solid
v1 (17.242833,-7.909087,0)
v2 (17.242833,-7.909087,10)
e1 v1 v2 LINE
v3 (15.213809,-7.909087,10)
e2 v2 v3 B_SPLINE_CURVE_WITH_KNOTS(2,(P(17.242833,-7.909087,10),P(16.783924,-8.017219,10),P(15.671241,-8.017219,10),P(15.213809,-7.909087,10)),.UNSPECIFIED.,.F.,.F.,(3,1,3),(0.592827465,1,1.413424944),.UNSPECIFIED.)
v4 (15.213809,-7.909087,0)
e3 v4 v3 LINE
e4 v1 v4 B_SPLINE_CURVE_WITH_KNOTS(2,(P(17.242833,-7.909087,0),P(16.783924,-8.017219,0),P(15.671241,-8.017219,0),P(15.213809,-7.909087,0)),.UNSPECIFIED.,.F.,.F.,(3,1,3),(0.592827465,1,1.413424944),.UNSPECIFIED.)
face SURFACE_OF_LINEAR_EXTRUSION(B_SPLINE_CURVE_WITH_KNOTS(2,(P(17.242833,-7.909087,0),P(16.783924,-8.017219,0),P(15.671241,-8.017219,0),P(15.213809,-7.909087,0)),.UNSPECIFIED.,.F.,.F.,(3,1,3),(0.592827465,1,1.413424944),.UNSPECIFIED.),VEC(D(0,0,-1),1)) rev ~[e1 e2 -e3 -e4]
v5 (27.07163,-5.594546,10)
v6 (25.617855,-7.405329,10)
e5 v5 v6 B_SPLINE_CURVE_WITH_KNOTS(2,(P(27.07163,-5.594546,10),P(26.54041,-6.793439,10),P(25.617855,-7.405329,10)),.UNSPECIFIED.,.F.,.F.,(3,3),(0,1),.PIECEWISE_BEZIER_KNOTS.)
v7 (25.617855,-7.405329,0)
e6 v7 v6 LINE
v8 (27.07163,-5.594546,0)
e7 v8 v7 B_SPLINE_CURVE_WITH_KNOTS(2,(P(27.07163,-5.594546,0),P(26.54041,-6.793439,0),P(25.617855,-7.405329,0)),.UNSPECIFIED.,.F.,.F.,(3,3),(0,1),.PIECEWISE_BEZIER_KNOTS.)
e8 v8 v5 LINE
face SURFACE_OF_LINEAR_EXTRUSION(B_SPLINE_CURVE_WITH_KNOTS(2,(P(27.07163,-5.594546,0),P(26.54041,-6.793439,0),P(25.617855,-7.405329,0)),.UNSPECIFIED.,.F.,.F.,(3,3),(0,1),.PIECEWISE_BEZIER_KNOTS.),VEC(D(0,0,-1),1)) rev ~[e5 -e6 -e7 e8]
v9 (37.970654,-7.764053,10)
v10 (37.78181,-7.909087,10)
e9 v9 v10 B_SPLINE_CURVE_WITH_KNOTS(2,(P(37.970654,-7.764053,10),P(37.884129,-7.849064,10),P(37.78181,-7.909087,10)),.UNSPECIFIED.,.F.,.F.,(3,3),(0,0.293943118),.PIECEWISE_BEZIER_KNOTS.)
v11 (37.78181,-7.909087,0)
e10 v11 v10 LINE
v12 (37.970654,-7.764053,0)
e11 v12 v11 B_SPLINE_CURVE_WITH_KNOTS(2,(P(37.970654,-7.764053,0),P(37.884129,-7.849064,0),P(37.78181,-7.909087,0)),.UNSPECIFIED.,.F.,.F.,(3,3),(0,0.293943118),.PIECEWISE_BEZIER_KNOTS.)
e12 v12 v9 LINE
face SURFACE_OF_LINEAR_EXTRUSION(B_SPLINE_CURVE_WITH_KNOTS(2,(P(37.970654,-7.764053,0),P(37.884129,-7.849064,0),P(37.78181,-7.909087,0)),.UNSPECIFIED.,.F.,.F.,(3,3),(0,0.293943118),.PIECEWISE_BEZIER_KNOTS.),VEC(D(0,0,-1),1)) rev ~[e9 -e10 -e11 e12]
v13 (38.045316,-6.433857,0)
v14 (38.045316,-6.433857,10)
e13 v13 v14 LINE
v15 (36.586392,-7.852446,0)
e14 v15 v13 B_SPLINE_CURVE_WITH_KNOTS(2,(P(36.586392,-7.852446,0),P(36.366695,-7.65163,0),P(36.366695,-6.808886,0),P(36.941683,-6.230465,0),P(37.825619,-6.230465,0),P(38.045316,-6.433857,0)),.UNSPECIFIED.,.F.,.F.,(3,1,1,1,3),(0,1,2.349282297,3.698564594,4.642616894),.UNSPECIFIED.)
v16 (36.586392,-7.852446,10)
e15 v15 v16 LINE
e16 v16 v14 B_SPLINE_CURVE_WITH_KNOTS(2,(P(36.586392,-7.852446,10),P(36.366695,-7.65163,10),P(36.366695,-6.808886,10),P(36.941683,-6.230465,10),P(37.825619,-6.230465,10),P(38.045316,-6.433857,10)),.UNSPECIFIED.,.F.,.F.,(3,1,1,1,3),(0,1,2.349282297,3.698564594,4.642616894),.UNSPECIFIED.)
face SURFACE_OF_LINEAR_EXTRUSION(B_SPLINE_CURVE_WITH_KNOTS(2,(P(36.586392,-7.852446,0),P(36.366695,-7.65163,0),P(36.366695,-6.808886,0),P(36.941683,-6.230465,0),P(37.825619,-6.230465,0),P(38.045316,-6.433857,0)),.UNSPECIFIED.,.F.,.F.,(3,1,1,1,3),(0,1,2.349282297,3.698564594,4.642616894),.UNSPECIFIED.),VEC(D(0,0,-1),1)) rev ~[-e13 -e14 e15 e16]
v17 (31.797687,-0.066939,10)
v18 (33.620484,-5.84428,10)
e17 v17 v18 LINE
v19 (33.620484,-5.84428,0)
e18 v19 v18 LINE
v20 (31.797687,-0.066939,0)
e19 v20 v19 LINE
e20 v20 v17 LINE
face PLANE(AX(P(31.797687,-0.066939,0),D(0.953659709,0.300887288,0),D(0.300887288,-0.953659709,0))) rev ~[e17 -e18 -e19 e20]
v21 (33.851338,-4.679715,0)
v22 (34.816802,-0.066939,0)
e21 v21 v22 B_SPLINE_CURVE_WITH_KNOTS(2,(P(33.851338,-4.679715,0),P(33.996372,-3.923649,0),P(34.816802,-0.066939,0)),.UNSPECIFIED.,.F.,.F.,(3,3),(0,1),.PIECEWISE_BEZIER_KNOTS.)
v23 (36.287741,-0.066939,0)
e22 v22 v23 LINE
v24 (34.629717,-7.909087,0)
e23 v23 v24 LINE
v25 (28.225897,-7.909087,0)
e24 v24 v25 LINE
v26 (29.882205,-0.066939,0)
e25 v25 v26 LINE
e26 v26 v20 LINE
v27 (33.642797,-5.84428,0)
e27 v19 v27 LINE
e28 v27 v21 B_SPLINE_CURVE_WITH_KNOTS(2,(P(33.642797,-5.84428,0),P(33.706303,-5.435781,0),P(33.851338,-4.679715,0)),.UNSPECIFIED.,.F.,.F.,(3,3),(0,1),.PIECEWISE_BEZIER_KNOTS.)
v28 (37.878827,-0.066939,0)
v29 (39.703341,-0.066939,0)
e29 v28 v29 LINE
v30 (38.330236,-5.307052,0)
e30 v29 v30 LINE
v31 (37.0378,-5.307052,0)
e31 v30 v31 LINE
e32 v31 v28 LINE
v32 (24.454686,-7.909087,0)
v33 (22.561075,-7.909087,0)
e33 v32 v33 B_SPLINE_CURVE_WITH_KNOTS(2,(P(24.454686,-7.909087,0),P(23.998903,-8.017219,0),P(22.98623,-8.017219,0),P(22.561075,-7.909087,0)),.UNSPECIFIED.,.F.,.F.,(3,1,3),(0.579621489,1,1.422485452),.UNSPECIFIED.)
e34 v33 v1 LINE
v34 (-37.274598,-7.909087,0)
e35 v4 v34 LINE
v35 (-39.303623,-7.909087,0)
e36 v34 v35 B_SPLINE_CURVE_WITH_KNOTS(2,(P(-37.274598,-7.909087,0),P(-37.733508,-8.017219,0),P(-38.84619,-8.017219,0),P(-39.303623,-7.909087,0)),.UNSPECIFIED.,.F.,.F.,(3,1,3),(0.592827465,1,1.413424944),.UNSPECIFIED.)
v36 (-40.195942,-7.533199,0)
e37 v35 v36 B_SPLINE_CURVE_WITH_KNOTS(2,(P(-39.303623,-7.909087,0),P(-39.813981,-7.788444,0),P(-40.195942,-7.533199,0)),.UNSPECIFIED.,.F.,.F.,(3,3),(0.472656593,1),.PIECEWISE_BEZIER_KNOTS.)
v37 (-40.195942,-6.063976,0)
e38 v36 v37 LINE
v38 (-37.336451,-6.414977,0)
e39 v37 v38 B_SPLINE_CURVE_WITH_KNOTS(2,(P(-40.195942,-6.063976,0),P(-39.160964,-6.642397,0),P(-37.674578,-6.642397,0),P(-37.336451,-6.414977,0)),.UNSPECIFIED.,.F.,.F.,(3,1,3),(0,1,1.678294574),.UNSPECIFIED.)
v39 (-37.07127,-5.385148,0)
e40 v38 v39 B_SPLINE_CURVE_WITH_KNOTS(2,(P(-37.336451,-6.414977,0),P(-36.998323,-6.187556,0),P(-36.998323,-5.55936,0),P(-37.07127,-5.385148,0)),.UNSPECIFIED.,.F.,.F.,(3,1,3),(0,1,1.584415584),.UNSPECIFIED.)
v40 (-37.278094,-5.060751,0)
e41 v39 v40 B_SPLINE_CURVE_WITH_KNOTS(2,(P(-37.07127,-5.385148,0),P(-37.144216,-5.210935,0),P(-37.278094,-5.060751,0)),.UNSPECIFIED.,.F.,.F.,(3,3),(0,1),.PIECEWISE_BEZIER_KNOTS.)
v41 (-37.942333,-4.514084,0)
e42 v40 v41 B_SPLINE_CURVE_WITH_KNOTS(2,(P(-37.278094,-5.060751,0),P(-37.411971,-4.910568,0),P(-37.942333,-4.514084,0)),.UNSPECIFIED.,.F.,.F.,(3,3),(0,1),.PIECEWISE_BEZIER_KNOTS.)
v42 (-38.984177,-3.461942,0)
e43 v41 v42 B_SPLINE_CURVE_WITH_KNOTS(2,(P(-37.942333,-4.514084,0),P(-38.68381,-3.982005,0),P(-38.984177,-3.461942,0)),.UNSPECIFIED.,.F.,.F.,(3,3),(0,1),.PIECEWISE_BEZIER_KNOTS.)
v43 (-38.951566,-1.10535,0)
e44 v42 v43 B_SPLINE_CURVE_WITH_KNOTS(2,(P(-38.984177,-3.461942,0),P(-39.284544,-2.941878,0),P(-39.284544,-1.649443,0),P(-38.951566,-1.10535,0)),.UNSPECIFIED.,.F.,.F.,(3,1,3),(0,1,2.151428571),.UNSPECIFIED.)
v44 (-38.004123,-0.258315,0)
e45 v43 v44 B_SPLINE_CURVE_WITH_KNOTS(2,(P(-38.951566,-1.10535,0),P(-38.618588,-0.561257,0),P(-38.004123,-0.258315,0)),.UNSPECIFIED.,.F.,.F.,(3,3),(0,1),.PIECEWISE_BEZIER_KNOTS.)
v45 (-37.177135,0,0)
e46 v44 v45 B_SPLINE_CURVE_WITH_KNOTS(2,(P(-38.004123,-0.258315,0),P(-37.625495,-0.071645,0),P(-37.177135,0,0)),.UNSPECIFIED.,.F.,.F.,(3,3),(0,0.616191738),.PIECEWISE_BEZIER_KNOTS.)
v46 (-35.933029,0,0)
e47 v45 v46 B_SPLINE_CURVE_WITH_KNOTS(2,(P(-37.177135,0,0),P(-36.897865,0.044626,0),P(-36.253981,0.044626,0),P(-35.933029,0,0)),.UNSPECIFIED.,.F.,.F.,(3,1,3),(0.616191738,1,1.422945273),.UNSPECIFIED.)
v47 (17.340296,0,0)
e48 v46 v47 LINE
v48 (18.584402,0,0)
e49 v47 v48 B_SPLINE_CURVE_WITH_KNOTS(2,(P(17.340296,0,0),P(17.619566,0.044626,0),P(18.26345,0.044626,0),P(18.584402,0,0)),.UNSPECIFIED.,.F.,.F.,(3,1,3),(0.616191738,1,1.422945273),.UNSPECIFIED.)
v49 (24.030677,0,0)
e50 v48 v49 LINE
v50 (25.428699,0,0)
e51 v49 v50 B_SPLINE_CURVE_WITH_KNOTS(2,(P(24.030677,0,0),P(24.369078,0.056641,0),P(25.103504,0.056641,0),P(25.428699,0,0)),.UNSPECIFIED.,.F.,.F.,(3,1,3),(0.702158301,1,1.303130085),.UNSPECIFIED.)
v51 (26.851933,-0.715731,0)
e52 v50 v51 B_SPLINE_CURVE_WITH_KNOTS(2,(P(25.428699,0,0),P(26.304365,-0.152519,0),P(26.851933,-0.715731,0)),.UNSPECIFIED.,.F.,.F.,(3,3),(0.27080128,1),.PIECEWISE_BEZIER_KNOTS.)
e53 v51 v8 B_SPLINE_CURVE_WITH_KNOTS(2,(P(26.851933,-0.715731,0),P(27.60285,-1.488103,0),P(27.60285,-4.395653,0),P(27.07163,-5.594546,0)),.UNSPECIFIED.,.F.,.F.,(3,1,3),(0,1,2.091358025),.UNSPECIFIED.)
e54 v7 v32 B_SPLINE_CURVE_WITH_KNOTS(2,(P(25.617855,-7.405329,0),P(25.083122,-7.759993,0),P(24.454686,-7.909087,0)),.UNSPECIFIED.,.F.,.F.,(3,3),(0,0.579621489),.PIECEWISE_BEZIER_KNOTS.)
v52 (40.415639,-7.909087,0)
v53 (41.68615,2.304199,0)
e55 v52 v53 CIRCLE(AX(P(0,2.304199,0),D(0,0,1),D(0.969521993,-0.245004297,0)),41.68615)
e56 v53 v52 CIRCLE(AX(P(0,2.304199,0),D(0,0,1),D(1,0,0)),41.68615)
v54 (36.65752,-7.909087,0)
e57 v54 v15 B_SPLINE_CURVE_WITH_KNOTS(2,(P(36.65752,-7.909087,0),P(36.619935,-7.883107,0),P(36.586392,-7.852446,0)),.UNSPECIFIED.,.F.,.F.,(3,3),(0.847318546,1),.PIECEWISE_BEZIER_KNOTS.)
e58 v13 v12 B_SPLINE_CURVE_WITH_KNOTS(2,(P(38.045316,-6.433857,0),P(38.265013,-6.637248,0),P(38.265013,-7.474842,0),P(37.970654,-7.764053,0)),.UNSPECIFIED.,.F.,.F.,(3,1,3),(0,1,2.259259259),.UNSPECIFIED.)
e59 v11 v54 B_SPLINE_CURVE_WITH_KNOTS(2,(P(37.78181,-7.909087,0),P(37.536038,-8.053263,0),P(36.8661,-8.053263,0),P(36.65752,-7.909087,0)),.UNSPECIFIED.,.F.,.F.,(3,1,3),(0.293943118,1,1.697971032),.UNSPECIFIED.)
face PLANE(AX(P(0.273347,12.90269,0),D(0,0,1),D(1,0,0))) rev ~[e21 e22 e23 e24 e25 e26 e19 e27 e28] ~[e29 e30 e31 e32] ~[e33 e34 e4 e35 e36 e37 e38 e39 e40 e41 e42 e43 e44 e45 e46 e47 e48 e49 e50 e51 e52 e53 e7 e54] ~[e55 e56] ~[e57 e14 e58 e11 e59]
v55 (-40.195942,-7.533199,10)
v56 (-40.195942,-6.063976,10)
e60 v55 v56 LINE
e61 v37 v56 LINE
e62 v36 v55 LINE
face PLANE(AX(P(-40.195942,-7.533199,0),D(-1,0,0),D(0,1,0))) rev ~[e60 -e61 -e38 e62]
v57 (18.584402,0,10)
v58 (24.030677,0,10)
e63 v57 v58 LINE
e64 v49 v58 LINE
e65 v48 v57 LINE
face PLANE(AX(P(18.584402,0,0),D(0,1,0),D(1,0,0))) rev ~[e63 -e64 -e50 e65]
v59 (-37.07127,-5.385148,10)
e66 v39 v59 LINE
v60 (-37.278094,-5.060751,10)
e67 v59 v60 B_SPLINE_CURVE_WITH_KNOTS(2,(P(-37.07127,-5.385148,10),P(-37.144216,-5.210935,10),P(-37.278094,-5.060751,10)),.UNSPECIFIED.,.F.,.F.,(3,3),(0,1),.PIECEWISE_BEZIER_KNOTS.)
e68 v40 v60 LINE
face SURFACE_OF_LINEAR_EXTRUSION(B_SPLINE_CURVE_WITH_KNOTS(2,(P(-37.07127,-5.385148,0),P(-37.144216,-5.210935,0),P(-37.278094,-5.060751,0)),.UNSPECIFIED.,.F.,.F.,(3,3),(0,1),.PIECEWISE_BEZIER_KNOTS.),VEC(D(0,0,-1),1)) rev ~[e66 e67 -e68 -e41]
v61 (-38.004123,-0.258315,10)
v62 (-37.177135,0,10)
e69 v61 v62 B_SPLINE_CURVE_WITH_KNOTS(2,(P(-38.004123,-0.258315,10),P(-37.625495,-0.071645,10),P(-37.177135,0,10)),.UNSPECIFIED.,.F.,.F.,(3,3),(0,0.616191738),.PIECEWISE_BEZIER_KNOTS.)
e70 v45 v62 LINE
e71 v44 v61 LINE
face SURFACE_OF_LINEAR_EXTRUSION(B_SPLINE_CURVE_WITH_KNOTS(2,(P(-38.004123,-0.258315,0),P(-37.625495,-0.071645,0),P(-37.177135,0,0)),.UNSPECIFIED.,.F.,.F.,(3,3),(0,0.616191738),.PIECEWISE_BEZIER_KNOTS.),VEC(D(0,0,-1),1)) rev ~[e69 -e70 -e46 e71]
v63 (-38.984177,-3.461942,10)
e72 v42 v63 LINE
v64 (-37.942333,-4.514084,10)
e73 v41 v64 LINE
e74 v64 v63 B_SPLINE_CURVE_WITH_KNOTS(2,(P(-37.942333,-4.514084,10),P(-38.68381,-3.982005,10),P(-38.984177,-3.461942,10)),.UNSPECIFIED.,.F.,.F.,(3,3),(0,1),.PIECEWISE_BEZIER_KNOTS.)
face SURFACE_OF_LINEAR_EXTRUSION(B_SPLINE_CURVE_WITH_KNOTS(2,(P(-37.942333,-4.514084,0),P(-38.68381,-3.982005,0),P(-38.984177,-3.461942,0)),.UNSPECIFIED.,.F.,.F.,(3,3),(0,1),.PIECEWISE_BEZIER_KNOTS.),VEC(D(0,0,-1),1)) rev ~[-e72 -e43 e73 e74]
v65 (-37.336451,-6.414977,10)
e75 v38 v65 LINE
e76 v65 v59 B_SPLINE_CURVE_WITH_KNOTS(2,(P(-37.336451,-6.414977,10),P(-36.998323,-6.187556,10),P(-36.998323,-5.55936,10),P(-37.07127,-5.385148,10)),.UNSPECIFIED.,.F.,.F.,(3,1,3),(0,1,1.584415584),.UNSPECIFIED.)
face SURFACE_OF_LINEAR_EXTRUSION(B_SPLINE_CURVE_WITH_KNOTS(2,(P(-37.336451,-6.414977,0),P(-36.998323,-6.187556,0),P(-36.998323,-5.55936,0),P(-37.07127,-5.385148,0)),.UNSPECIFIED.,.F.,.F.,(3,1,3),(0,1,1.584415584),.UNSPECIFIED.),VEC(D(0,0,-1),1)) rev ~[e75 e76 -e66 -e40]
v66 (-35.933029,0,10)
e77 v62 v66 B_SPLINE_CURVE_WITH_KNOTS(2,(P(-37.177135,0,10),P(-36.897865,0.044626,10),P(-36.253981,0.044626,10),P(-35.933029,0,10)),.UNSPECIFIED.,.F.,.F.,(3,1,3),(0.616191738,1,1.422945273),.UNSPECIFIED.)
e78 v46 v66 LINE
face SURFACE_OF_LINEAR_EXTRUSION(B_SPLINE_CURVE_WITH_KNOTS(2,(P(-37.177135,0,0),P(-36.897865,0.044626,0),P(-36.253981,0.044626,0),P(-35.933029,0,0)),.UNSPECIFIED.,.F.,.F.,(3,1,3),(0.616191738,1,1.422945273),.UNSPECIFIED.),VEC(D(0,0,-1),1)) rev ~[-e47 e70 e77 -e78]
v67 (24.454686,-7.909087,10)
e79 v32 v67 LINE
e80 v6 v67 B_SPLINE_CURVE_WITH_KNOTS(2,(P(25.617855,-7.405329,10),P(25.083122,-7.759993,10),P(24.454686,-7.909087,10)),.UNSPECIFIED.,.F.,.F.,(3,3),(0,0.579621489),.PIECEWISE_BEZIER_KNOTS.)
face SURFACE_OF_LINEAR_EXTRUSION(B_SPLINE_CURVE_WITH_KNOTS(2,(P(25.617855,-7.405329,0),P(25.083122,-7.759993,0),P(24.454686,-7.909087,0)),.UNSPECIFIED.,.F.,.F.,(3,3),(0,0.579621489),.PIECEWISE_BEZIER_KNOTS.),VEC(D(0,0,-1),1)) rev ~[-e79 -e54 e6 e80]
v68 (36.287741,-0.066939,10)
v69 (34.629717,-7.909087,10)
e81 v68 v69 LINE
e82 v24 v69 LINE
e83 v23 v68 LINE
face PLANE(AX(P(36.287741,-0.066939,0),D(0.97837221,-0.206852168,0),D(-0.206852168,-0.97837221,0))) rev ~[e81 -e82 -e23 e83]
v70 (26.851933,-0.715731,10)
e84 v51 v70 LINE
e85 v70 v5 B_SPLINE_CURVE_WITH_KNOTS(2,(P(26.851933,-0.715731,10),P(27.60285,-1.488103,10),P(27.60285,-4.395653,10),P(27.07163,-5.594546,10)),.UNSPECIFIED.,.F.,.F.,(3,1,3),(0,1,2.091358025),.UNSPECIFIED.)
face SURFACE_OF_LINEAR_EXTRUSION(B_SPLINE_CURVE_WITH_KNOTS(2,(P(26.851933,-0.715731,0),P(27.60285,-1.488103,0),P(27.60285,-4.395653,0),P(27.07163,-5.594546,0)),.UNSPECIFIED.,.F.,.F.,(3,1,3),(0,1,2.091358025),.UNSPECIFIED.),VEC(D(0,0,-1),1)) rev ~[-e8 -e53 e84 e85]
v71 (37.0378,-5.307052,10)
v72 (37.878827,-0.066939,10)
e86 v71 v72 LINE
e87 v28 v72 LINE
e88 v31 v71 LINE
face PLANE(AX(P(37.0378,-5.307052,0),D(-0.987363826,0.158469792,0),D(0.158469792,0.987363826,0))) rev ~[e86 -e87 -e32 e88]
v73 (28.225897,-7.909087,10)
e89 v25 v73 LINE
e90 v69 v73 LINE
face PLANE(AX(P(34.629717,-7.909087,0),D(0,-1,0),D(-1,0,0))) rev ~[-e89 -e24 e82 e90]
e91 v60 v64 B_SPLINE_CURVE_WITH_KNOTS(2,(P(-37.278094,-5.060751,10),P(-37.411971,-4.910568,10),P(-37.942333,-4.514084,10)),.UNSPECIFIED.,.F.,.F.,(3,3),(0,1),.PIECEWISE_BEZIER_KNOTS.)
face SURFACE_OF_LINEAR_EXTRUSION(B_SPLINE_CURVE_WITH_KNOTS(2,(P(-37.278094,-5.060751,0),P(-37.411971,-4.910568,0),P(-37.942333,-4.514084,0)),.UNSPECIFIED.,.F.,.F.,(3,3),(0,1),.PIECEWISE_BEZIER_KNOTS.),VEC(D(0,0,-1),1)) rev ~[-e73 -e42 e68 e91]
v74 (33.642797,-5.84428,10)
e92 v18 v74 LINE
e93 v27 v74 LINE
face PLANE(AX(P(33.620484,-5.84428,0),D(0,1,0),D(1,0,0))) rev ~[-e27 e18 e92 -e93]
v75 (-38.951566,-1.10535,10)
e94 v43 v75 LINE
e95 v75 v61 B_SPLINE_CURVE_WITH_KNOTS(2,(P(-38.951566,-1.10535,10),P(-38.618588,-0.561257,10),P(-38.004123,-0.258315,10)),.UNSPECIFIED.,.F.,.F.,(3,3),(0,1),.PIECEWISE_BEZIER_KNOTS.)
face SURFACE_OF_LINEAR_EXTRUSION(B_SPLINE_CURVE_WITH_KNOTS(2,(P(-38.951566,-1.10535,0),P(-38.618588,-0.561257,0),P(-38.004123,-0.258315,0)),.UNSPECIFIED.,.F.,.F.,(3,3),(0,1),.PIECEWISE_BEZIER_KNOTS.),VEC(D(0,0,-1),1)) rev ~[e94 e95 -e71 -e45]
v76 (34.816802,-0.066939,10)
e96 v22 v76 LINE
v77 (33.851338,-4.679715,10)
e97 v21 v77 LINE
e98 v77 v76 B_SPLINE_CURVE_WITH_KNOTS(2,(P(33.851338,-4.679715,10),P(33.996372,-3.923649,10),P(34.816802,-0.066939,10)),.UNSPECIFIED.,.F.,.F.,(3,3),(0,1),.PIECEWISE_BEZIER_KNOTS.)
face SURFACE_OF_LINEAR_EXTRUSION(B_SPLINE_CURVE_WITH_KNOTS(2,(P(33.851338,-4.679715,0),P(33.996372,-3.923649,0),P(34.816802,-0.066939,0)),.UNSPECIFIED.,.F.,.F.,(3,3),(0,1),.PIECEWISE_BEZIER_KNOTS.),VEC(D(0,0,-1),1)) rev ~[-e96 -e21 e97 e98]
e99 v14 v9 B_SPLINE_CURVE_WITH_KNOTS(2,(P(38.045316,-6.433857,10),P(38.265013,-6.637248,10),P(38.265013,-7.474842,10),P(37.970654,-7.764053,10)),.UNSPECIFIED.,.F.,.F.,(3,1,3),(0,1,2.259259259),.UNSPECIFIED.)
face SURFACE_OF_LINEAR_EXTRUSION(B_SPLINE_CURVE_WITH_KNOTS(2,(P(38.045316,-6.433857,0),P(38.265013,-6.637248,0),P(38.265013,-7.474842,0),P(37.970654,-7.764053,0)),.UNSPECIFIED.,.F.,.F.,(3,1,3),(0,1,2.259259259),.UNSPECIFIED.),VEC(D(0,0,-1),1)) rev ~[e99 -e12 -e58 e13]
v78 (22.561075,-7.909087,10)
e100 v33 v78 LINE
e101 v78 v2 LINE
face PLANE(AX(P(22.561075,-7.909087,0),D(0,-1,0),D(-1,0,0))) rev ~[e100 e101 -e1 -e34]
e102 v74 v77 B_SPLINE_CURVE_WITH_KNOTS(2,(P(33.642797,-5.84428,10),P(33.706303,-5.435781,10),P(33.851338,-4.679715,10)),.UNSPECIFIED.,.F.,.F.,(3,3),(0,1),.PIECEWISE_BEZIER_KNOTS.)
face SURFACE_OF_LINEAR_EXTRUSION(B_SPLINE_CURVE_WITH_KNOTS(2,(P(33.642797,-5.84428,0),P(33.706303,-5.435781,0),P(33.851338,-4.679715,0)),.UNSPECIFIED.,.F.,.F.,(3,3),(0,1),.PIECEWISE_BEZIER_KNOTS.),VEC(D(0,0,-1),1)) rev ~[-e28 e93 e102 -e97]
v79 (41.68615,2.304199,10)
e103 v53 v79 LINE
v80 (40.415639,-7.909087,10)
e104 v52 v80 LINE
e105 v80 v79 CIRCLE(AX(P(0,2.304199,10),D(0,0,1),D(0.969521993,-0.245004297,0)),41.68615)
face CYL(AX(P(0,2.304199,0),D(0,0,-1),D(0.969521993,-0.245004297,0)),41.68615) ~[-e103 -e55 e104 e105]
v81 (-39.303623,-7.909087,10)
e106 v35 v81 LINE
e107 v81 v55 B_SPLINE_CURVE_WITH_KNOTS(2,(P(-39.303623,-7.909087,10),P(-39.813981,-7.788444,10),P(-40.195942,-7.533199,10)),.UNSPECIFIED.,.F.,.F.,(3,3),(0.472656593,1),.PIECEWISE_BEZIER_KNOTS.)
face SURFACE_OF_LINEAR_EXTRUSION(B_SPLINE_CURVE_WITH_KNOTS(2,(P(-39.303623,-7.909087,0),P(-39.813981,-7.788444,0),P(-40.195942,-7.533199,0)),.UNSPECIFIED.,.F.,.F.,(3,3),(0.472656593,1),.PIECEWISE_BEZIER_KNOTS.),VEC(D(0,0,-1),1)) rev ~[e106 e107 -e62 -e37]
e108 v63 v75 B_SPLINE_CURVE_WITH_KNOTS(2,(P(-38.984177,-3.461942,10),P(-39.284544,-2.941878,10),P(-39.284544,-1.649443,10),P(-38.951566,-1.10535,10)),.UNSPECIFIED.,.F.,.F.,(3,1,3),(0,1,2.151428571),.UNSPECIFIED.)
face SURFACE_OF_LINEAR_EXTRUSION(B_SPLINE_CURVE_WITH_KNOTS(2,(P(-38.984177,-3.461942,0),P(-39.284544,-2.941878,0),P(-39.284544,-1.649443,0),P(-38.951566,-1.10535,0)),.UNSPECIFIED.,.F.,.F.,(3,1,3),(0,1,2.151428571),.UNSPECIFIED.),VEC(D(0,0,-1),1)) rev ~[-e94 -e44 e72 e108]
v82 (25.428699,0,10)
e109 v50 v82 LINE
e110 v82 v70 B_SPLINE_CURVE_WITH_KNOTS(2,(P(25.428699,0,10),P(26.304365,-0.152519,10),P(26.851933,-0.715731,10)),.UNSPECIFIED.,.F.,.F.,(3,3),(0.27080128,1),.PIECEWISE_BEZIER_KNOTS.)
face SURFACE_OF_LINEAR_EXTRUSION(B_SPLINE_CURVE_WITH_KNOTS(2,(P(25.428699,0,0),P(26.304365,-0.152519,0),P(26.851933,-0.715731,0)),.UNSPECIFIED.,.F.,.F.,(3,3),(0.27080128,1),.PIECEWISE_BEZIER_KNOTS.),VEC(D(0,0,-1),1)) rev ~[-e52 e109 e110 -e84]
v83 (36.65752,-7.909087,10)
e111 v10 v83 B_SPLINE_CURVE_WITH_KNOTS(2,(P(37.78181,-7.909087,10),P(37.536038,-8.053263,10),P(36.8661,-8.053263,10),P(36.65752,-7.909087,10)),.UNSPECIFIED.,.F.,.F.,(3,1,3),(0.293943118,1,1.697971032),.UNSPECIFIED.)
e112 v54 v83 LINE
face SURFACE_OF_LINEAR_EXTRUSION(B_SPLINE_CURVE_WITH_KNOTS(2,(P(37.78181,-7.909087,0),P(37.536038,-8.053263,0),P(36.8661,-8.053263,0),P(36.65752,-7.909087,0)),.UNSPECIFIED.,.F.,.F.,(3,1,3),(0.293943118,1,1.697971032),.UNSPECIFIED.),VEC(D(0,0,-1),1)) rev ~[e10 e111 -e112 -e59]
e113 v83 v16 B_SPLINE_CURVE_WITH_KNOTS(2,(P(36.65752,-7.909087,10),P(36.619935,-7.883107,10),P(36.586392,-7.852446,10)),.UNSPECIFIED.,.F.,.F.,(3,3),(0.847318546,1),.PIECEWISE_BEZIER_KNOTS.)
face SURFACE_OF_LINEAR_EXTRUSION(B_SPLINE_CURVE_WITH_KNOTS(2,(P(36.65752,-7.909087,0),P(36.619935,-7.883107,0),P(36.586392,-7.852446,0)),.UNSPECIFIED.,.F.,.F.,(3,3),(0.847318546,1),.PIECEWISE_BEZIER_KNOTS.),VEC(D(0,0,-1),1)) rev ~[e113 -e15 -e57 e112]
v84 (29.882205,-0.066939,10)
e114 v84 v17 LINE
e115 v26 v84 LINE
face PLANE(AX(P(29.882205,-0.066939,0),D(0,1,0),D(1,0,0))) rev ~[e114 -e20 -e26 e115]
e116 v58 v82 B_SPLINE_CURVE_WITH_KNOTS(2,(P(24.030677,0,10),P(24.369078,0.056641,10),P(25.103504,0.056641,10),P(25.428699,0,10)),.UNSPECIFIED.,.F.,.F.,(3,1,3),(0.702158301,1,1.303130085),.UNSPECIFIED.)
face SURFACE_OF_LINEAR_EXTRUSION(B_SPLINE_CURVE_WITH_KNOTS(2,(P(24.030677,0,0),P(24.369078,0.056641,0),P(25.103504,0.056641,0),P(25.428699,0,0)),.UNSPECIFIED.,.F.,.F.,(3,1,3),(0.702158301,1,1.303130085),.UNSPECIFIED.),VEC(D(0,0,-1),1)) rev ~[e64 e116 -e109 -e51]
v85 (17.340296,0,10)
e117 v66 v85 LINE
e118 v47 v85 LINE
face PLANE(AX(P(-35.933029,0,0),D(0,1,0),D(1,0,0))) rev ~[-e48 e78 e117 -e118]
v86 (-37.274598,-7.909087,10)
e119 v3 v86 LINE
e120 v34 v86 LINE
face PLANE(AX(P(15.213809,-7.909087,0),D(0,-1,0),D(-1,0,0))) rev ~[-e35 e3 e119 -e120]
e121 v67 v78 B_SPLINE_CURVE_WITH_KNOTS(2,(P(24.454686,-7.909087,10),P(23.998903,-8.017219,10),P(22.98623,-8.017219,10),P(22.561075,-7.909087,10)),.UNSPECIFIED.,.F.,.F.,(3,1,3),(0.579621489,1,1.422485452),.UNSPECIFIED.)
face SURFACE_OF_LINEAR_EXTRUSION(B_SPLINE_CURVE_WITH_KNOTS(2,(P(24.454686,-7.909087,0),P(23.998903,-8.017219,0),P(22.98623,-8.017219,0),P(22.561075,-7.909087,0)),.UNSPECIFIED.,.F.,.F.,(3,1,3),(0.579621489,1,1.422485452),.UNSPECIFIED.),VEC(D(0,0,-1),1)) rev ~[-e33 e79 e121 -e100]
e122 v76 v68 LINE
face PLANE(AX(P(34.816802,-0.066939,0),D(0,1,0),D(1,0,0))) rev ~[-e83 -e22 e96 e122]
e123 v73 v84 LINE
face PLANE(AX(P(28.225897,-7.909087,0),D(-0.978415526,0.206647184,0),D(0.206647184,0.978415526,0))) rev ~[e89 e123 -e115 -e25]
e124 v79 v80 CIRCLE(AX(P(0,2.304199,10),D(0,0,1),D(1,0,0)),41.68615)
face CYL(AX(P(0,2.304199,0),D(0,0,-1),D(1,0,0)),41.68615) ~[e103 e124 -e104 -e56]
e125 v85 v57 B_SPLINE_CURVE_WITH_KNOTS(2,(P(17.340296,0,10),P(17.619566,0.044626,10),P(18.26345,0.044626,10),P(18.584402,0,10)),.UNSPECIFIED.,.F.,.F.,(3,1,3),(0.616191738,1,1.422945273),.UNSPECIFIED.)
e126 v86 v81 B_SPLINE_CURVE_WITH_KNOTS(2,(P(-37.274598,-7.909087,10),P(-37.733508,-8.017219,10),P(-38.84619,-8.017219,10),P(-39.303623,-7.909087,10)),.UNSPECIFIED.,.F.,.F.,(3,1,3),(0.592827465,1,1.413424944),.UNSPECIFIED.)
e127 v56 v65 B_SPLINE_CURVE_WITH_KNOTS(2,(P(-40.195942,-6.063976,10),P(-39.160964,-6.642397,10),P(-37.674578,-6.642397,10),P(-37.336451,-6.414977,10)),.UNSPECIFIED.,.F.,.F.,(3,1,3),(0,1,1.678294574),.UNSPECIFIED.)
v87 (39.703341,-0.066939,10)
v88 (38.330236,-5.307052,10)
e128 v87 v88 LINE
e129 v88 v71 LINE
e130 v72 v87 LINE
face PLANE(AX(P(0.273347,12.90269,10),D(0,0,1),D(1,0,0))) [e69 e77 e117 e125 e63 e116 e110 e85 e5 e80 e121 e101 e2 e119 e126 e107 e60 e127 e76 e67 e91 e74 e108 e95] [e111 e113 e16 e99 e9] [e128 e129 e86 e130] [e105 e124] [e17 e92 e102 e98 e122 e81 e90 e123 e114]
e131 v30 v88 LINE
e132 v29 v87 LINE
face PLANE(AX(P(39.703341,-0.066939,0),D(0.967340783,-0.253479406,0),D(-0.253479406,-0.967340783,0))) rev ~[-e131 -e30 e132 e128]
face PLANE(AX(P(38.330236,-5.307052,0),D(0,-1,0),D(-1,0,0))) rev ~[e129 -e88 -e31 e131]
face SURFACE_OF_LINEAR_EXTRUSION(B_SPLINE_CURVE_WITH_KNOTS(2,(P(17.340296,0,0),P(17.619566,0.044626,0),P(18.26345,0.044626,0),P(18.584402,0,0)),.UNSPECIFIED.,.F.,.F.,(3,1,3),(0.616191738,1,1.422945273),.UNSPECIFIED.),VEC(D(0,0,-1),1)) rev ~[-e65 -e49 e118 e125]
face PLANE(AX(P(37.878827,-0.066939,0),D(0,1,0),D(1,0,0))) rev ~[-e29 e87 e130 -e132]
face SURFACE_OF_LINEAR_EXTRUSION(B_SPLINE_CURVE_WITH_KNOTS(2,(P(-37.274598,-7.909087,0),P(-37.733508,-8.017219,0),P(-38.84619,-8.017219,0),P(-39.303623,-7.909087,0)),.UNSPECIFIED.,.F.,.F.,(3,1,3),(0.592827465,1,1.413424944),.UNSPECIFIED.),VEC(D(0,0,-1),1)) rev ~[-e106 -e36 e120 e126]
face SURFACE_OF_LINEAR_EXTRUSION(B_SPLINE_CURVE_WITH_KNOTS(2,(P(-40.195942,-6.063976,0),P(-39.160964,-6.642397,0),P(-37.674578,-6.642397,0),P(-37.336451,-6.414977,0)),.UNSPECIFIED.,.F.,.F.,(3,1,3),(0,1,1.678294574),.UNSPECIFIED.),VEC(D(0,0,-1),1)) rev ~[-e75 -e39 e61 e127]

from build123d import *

# Parameters (mm, degrees)
F1_DEPTH = 10


with BuildPart() as f1:
    # F0 (on Top) → F1 (new body)
    with BuildSketch(Plane.XY):
        with BuildLine():
            ThreePointArc((40.4156393511, -7.9090867682), (41.3673030509, -2.8418043205), (41.6861501393, 2.3041991517))
            ThreePointArc((41.6861501393, 2.3041991517), (-5.1460034722, 43.6715022026), (-40.4156393511, -7.9090867682))
            Line((-40.4156393511, -7.9090867682), (-40.4156393511, 0))
            Line((-40.4156393511, 0), (-37.1771354638, 0))
            add(Edge.make_bspline(
                [(-37.1771354638, 0), (-36.8978650572, 0.0446259236), (-36.5915409745, 0.0446259236)],
                knots=[0.6161917381, 0.6161917381, 0.6161917381, 1, 1, 1], degree=2))
            add(Edge.make_bspline(
                [(-36.5915409745, 0.0446259236), (-36.2539809593, 0.0446259236), (-35.9330292975, 0)],
                knots=[0, 0, 0, 0.2900730853, 0.2900730853, 0.2900730853], degree=2))
            Line((-35.9330292975, 0), (17.3402957465, 0))
            add(Edge.make_bspline(
                [(17.3402957465, 0), (17.6195661531, 0.0446259236), (17.9258902358, 0.0446259236)],
                knots=[0.6161917381, 0.6161917381, 0.6161917381, 1, 1, 1], degree=2))
            add(Edge.make_bspline(
                [(17.9258902358, 0.0446259236), (18.263450251, 0.0446259236), (18.5844019128, 0)],
                knots=[0, 0, 0, 0.2900730853, 0.2900730853, 0.2900730853], degree=2))
            Line((18.5844019128, 0), (24.0306765024, 0))
            add(Edge.make_bspline(
                [(24.0306765024, 0), (24.369078423, 0.0566405953), (24.7330599673, 0.0566405953)],
                knots=[0.7021583014, 0.7021583014, 0.7021583014, 1, 1, 1], degree=2))
            add(Edge.make_bspline(
                [(24.7330599673, 0.0566405953), (25.1035042565, 0.0566405953), (25.4286990035, 0)],
                knots=[0, 0, 0, 0.2708012802, 0.2708012802, 0.2708012802], degree=2))
            Line((25.4286990035, 0), (40.4156393511, 0))
            Line((40.4156393511, 0), (40.4156393511, -7.9090867682))
        make_face()
        with BuildLine():
            Line((-39.3036225538, -7.9090867682), (-40.4156393511, -7.9090867682))
            ThreePointArc((-40.4156393511, -7.9090867682), (0, -39.3819509876), (40.4156393511, -7.9090867682))
            Line((40.4156393511, -7.9090867682), (37.7818098534, -7.9090867682))
            add(Edge.make_bspline(
                [(37.7818098534, -7.9090867682), (37.5360380286, -8.053262829), (37.1991400882, -8.053262829)],
                knots=[0.2939431181, 0.2939431181, 0.2939431181, 1, 1, 1], degree=2))
            add(Edge.make_bspline(
                [(37.1991400882, -8.053262829), (36.8661003441, -8.053262829), (36.6575202765, -7.9090867682)],
                knots=[0, 0, 0, 0.8473185457, 0.8473185457, 0.8473185457], degree=2))
            Line((36.6575202765, -7.9090867682), (34.6297167175, -7.9090867682))
            Line((34.6297167175, -7.9090867682), (32.7949047047, -7.9090867682))
            Line((32.7949047047, -7.9090867682), (29.7002685409, -7.9090867682))
            Line((29.7002685409, -7.9090867682), (28.2258966802, -7.9090867682))
            Line((28.2258966802, -7.9090867682), (24.4546855592, -7.9090867682))
            add(Edge.make_bspline(
                [(24.4546855592, -7.9090867682), (23.9989033781, -8.0172188138), (23.4938323964, -8.0172188138)],
                knots=[0.5796214889, 0.5796214889, 0.5796214889, 1, 1, 1], degree=2))
            add(Edge.make_bspline(
                [(23.4938323964, -8.0172188138), (22.9862299942, -8.0172188138), (22.5610753448, -7.9090867682)],
                knots=[0, 0, 0, 0.3696747706, 0.3696747706, 0.3696747706], degree=2))
            Line((22.5610753448, -7.9090867682), (17.2428330681, -7.9090867682))
            add(Edge.make_bspline(
                [(17.2428330681, -7.9090867682), (16.7839236692, -8.0172188138), (16.2318215205, -8.0172188138)],
                knots=[0.5928274645, 0.5928274645, 0.5928274645, 1, 1, 1], degree=2))
            add(Edge.make_bspline(
                [(16.2318215205, -8.0172188138), (15.671241471, -8.0172188138), (15.2138086565, -7.9090867682)],
                knots=[0, 0, 0, 0.4726565934, 0.4726565934, 0.4726565934], degree=2))
            Line((15.2138086565, -7.9090867682), (12.4883930827, -7.9090867682))
            Line((12.4883930827, -7.9090867682), (10.8526813444, -7.9090867682))
            Line((10.8526813444, -7.9090867682), (5.8374140839, -7.9090867682))
            Line((5.8374140839, -7.9090867682), (3.4190323008, -7.9090867682))
            Line((3.4190323008, -7.9090867682), (-1.5962349597, -7.9090867682))
            Line((-1.5962349597, -7.9090867682), (-4.0146167428, -7.9090867682))
            Line((-4.0146167428, -7.9090867682), (-4.9603430469, -7.9090867682))
            Line((-4.9603430469, -7.9090867682), (-6.5531452432, -7.9090867682))
            Line((-6.5531452432, -7.9090867682), (-10.1403829484, -7.9090867682))
            Line((-10.1403829484, -7.9090867682), (-11.8567646255, -7.9090867682))
            Line((-11.8567646255, -7.9090867682), (-14.7128237363, -7.9090867682))
            Line((-14.7128237363, -7.9090867682), (-16.3056259326, -7.9090867682))
            Line((-16.3056259326, -7.9090867682), (-19.8928636378, -7.9090867682))
            Line((-19.8928636378, -7.9090867682), (-21.6092453149, -7.9090867682))
            Line((-21.6092453149, -7.9090867682), (-22.2374410087, -7.9090867682))
            Line((-22.2374410087, -7.9090867682), (-26.6193634304, -7.9090867682))
            Line((-26.6193634304, -7.9090867682), (-28.5073832753, -7.9090867682))
            Line((-28.5073832753, -7.9090867682), (-30.1482441586, -7.9090867682))
            Line((-30.1482441586, -7.9090867682), (-32.6747579873, -7.9090867682))
            Line((-32.6747579873, -7.9090867682), (-34.3104697256, -7.9090867682))
            Line((-34.3104697256, -7.9090867682), (-37.2745981422, -7.9090867682))
            add(Edge.make_bspline(
                [(-37.2745981422, -7.9090867682), (-37.7335075411, -8.0172188138), (-38.2856096898, -8.0172188138)],
                knots=[0.5928274645, 0.5928274645, 0.5928274645, 1, 1, 1], degree=2))
            add(Edge.make_bspline(
                [(-38.2856096898, -8.0172188138), (-38.8461897393, -8.0172188138), (-39.3036225538, -7.9090867682)],
                knots=[0, 0, 0, 0.4726565934, 0.4726565934, 0.4726565934], degree=2))
        make_face()
        with BuildLine():
            Line((-40.4156393511, 0), (-40.4156393511, -7.9090867682))
            Line((-40.4156393511, -7.9090867682), (-39.3036225538, -7.9090867682))
            add(Edge.make_bspline(
                [(-39.3036225538, -7.9090867682), (-39.8139807759, -7.788443743), (-40.1959424964, -7.5331991809)],
                knots=[0.4726565934, 0.4726565934, 0.4726565934, 1, 1, 1], degree=2))
            Line((-40.1959424964, -7.5331991809), (-40.1959424964, -6.0639764653))
            add(Edge.make_bspline(
                [(-40.1959424964, -6.0639764653), (-39.1609643451, -6.6423970904), (-38.2753113997, -6.6423970904)],
                knots=[0, 0, 0, 1, 1, 1], degree=2))
            add(Edge.make_bspline(
                [(-38.2753113997, -6.6423970904), (-37.6745778127, -6.6423970904), (-37.3364506223, -6.4149765182)],
                knots=[0, 0, 0, 1, 1, 1], degree=2))
            add(Edge.make_bspline(
                [(-37.3364506223, -6.4149765182), (-36.998323432, -6.187555946), (-36.998323432, -5.7910717786)],
                knots=[0, 0, 0, 1, 1, 1], degree=2))
            add(Edge.make_bspline(
                [(-36.998323432, -5.7910717786), (-36.998323432, -5.5593602522), (-37.0712696532, -5.385147512)],
                knots=[0, 0, 0, 1, 1, 1], degree=2))
            add(Edge.make_bspline(
                [(-37.0712696532, -5.385147512), (-37.1442158745, -5.2109347717), (-37.2780936453, -5.060751375)],
                knots=[0, 0, 0, 1, 1, 1], degree=2))
            add(Edge.make_bspline(
                [(-37.2780936453, -5.060751375), (-37.4119714161, -4.9105679782), (-37.9423333544, -4.5140838108)],
                knots=[0, 0, 0, 1, 1, 1], degree=2))
            add(Edge.make_bspline(
                [(-37.9423333544, -4.5140838108), (-38.6838102389, -3.9820054909), (-38.9841770324, -3.4619418427)],
                knots=[0, 0, 0, 1, 1, 1], degree=2))
            add(Edge.make_bspline(
                [(-38.9841770324, -3.4619418427), (-39.2845438259, -2.9418781946), (-39.2845438259, -2.3411446076)],
                knots=[0, 0, 0, 1, 1, 1], degree=2))
            add(Edge.make_bspline(
                [(-39.2845438259, -2.3411446076), (-39.2845438259, -1.6494427917), (-38.9515657805, -1.1053498001)],
                knots=[0, 0, 0, 1, 1, 1], degree=2))
            add(Edge.make_bspline(
                [(-38.9515657805, -1.1053498001), (-38.6185877352, -0.5612568084), (-38.0041230947, -0.2583154424)],
                knots=[0, 0, 0, 1, 1, 1], degree=2))
            add(Edge.make_bspline(
                [(-38.0041230947, -0.2583154424), (-37.6254950599, -0.0716454755), (-37.1771354638, 0)],
                knots=[0, 0, 0, 0.6161917381, 0.6161917381, 0.6161917381], degree=2))
            Line((-37.1771354638, 0), (-40.4156393511, 0))
        make_face()
        with BuildLine():
            Line((37.7818098534, -7.9090867682), (40.4156393511, -7.9090867682))
            Line((40.4156393511, -7.9090867682), (40.4156393511, 0))
            Line((40.4156393511, 0), (25.4286990035, 0))
            add(Edge.make_bspline(
                [(25.4286990035, 0), (26.3043654444, -0.1525186646), (26.8519331477, -0.7157311594)],
                knots=[0.2708012802, 0.2708012802, 0.2708012802, 1, 1, 1], degree=2))
            add(Edge.make_bspline(
                [(26.8519331477, -0.7157311594), (27.6028501314, -1.4881029141), (27.6028501314, -2.8783720725)],
                knots=[0, 0, 0, 1, 1, 1], degree=2))
            add(Edge.make_bspline(
                [(27.6028501314, -2.8783720725), (27.6028501314, -4.3956534751), (27.0716300023, -5.5945460766)],
                knots=[0, 0, 0, 1, 1, 1], degree=2))
            add(Edge.make_bspline(
                [(27.0716300023, -5.5945460766), (26.5404098733, -6.793438678), (25.6178547218, -7.4053287459)],
                knots=[0, 0, 0, 1, 1, 1], degree=2))
            add(Edge.make_bspline(
                [(25.6178547218, -7.4053287459), (25.0831219313, -7.7599933781), (24.4546855592, -7.9090867682)],
                knots=[0, 0, 0, 0.5796214889, 0.5796214889, 0.5796214889], degree=2))
            Line((24.4546855592, -7.9090867682), (28.2258966802, -7.9090867682))
            Line((28.2258966802, -7.9090867682), (29.8822049986, -0.0669388854))
            Line((29.8822049986, -0.0669388854), (31.7976869503, -0.0669388854))
            Line((31.7976869503, -0.0669388854), (33.6204842914, -5.8442796106))
            Line((33.6204842914, -5.8442796106), (33.6427972532, -5.8442796106))
            add(Edge.make_bspline(
                [(33.6427972532, -5.8442796106), (33.7063033752, -5.4357807714), (33.851337627, -4.6797146427)],
                knots=[0, 0, 0, 1, 1, 1], degree=2))
            add(Edge.make_bspline(
                [(33.851337627, -4.6797146427), (33.9963718787, -3.9236485139), (34.8168023203, -0.0669388854)],
                knots=[0, 0, 0, 1, 1, 1], degree=2))
            Line((34.8168023203, -0.0669388854), (36.2877414176, -0.0669388854))
            Line((36.2877414176, -0.0669388854), (34.6297167175, -7.9090867682))
            Line((34.6297167175, -7.9090867682), (36.6575202765, -7.9090867682))
            add(Edge.make_bspline(
                [(36.6575202765, -7.9090867682), (36.6199354647, -7.8831071519), (36.5863918294, -7.8524461728)],
                knots=[0.8473185457, 0.8473185457, 0.8473185457, 1, 1, 1], degree=2))
            add(Edge.make_bspline(
                [(36.5863918294, -7.8524461728), (36.3666949748, -7.6516295166), (36.3666949748, -7.2929057461)],
                knots=[0, 0, 0, 1, 1, 1], degree=2))
            add(Edge.make_bspline(
                [(36.3666949748, -7.2929057461), (36.3666949748, -6.8088861131), (36.6541889057, -6.5196758005)],
                knots=[0, 0, 0, 1, 1, 1], degree=2))
            add(Edge.make_bspline(
                [(36.6541889057, -6.5196758005), (36.9416828366, -6.2304654879), (37.4617464848, -6.2304654879)],
                knots=[0, 0, 0, 1, 1, 1], degree=2))
            add(Edge.make_bspline(
                [(37.4617464848, -6.2304654879), (37.8256194003, -6.2304654879), (38.045316255, -6.4338567167)],
                knots=[0, 0, 0, 1, 1, 1], degree=2))
            add(Edge.make_bspline(
                [(38.045316255, -6.4338567167), (38.2650131097, -6.6372479454), (38.2650131097, -7.0079863877)],
                knots=[0, 0, 0, 1, 1, 1], degree=2))
            add(Edge.make_bspline(
                [(38.2650131097, -7.0079863877), (38.2650131097, -7.4748422038), (37.970653652, -7.7640525164)],
                knots=[0, 0, 0, 1, 1, 1], degree=2))
            add(Edge.make_bspline(
                [(37.970653652, -7.7640525164), (37.8841287152, -7.8490638975), (37.7818098534, -7.9090867682)],
                knots=[0, 0, 0, 0.2939431181, 0.2939431181, 0.2939431181], degree=2))
        make_face()
        Polygon((39.7033409551, -0.0669388854), (38.3302356134, -5.3070521456), (37.0378002105, -5.3070521456), (37.8788272323, -0.0669388854), align=None, mode=Mode.SUBTRACT)
    extrude(amount=F1_DEPTH)


solid = f1.part
